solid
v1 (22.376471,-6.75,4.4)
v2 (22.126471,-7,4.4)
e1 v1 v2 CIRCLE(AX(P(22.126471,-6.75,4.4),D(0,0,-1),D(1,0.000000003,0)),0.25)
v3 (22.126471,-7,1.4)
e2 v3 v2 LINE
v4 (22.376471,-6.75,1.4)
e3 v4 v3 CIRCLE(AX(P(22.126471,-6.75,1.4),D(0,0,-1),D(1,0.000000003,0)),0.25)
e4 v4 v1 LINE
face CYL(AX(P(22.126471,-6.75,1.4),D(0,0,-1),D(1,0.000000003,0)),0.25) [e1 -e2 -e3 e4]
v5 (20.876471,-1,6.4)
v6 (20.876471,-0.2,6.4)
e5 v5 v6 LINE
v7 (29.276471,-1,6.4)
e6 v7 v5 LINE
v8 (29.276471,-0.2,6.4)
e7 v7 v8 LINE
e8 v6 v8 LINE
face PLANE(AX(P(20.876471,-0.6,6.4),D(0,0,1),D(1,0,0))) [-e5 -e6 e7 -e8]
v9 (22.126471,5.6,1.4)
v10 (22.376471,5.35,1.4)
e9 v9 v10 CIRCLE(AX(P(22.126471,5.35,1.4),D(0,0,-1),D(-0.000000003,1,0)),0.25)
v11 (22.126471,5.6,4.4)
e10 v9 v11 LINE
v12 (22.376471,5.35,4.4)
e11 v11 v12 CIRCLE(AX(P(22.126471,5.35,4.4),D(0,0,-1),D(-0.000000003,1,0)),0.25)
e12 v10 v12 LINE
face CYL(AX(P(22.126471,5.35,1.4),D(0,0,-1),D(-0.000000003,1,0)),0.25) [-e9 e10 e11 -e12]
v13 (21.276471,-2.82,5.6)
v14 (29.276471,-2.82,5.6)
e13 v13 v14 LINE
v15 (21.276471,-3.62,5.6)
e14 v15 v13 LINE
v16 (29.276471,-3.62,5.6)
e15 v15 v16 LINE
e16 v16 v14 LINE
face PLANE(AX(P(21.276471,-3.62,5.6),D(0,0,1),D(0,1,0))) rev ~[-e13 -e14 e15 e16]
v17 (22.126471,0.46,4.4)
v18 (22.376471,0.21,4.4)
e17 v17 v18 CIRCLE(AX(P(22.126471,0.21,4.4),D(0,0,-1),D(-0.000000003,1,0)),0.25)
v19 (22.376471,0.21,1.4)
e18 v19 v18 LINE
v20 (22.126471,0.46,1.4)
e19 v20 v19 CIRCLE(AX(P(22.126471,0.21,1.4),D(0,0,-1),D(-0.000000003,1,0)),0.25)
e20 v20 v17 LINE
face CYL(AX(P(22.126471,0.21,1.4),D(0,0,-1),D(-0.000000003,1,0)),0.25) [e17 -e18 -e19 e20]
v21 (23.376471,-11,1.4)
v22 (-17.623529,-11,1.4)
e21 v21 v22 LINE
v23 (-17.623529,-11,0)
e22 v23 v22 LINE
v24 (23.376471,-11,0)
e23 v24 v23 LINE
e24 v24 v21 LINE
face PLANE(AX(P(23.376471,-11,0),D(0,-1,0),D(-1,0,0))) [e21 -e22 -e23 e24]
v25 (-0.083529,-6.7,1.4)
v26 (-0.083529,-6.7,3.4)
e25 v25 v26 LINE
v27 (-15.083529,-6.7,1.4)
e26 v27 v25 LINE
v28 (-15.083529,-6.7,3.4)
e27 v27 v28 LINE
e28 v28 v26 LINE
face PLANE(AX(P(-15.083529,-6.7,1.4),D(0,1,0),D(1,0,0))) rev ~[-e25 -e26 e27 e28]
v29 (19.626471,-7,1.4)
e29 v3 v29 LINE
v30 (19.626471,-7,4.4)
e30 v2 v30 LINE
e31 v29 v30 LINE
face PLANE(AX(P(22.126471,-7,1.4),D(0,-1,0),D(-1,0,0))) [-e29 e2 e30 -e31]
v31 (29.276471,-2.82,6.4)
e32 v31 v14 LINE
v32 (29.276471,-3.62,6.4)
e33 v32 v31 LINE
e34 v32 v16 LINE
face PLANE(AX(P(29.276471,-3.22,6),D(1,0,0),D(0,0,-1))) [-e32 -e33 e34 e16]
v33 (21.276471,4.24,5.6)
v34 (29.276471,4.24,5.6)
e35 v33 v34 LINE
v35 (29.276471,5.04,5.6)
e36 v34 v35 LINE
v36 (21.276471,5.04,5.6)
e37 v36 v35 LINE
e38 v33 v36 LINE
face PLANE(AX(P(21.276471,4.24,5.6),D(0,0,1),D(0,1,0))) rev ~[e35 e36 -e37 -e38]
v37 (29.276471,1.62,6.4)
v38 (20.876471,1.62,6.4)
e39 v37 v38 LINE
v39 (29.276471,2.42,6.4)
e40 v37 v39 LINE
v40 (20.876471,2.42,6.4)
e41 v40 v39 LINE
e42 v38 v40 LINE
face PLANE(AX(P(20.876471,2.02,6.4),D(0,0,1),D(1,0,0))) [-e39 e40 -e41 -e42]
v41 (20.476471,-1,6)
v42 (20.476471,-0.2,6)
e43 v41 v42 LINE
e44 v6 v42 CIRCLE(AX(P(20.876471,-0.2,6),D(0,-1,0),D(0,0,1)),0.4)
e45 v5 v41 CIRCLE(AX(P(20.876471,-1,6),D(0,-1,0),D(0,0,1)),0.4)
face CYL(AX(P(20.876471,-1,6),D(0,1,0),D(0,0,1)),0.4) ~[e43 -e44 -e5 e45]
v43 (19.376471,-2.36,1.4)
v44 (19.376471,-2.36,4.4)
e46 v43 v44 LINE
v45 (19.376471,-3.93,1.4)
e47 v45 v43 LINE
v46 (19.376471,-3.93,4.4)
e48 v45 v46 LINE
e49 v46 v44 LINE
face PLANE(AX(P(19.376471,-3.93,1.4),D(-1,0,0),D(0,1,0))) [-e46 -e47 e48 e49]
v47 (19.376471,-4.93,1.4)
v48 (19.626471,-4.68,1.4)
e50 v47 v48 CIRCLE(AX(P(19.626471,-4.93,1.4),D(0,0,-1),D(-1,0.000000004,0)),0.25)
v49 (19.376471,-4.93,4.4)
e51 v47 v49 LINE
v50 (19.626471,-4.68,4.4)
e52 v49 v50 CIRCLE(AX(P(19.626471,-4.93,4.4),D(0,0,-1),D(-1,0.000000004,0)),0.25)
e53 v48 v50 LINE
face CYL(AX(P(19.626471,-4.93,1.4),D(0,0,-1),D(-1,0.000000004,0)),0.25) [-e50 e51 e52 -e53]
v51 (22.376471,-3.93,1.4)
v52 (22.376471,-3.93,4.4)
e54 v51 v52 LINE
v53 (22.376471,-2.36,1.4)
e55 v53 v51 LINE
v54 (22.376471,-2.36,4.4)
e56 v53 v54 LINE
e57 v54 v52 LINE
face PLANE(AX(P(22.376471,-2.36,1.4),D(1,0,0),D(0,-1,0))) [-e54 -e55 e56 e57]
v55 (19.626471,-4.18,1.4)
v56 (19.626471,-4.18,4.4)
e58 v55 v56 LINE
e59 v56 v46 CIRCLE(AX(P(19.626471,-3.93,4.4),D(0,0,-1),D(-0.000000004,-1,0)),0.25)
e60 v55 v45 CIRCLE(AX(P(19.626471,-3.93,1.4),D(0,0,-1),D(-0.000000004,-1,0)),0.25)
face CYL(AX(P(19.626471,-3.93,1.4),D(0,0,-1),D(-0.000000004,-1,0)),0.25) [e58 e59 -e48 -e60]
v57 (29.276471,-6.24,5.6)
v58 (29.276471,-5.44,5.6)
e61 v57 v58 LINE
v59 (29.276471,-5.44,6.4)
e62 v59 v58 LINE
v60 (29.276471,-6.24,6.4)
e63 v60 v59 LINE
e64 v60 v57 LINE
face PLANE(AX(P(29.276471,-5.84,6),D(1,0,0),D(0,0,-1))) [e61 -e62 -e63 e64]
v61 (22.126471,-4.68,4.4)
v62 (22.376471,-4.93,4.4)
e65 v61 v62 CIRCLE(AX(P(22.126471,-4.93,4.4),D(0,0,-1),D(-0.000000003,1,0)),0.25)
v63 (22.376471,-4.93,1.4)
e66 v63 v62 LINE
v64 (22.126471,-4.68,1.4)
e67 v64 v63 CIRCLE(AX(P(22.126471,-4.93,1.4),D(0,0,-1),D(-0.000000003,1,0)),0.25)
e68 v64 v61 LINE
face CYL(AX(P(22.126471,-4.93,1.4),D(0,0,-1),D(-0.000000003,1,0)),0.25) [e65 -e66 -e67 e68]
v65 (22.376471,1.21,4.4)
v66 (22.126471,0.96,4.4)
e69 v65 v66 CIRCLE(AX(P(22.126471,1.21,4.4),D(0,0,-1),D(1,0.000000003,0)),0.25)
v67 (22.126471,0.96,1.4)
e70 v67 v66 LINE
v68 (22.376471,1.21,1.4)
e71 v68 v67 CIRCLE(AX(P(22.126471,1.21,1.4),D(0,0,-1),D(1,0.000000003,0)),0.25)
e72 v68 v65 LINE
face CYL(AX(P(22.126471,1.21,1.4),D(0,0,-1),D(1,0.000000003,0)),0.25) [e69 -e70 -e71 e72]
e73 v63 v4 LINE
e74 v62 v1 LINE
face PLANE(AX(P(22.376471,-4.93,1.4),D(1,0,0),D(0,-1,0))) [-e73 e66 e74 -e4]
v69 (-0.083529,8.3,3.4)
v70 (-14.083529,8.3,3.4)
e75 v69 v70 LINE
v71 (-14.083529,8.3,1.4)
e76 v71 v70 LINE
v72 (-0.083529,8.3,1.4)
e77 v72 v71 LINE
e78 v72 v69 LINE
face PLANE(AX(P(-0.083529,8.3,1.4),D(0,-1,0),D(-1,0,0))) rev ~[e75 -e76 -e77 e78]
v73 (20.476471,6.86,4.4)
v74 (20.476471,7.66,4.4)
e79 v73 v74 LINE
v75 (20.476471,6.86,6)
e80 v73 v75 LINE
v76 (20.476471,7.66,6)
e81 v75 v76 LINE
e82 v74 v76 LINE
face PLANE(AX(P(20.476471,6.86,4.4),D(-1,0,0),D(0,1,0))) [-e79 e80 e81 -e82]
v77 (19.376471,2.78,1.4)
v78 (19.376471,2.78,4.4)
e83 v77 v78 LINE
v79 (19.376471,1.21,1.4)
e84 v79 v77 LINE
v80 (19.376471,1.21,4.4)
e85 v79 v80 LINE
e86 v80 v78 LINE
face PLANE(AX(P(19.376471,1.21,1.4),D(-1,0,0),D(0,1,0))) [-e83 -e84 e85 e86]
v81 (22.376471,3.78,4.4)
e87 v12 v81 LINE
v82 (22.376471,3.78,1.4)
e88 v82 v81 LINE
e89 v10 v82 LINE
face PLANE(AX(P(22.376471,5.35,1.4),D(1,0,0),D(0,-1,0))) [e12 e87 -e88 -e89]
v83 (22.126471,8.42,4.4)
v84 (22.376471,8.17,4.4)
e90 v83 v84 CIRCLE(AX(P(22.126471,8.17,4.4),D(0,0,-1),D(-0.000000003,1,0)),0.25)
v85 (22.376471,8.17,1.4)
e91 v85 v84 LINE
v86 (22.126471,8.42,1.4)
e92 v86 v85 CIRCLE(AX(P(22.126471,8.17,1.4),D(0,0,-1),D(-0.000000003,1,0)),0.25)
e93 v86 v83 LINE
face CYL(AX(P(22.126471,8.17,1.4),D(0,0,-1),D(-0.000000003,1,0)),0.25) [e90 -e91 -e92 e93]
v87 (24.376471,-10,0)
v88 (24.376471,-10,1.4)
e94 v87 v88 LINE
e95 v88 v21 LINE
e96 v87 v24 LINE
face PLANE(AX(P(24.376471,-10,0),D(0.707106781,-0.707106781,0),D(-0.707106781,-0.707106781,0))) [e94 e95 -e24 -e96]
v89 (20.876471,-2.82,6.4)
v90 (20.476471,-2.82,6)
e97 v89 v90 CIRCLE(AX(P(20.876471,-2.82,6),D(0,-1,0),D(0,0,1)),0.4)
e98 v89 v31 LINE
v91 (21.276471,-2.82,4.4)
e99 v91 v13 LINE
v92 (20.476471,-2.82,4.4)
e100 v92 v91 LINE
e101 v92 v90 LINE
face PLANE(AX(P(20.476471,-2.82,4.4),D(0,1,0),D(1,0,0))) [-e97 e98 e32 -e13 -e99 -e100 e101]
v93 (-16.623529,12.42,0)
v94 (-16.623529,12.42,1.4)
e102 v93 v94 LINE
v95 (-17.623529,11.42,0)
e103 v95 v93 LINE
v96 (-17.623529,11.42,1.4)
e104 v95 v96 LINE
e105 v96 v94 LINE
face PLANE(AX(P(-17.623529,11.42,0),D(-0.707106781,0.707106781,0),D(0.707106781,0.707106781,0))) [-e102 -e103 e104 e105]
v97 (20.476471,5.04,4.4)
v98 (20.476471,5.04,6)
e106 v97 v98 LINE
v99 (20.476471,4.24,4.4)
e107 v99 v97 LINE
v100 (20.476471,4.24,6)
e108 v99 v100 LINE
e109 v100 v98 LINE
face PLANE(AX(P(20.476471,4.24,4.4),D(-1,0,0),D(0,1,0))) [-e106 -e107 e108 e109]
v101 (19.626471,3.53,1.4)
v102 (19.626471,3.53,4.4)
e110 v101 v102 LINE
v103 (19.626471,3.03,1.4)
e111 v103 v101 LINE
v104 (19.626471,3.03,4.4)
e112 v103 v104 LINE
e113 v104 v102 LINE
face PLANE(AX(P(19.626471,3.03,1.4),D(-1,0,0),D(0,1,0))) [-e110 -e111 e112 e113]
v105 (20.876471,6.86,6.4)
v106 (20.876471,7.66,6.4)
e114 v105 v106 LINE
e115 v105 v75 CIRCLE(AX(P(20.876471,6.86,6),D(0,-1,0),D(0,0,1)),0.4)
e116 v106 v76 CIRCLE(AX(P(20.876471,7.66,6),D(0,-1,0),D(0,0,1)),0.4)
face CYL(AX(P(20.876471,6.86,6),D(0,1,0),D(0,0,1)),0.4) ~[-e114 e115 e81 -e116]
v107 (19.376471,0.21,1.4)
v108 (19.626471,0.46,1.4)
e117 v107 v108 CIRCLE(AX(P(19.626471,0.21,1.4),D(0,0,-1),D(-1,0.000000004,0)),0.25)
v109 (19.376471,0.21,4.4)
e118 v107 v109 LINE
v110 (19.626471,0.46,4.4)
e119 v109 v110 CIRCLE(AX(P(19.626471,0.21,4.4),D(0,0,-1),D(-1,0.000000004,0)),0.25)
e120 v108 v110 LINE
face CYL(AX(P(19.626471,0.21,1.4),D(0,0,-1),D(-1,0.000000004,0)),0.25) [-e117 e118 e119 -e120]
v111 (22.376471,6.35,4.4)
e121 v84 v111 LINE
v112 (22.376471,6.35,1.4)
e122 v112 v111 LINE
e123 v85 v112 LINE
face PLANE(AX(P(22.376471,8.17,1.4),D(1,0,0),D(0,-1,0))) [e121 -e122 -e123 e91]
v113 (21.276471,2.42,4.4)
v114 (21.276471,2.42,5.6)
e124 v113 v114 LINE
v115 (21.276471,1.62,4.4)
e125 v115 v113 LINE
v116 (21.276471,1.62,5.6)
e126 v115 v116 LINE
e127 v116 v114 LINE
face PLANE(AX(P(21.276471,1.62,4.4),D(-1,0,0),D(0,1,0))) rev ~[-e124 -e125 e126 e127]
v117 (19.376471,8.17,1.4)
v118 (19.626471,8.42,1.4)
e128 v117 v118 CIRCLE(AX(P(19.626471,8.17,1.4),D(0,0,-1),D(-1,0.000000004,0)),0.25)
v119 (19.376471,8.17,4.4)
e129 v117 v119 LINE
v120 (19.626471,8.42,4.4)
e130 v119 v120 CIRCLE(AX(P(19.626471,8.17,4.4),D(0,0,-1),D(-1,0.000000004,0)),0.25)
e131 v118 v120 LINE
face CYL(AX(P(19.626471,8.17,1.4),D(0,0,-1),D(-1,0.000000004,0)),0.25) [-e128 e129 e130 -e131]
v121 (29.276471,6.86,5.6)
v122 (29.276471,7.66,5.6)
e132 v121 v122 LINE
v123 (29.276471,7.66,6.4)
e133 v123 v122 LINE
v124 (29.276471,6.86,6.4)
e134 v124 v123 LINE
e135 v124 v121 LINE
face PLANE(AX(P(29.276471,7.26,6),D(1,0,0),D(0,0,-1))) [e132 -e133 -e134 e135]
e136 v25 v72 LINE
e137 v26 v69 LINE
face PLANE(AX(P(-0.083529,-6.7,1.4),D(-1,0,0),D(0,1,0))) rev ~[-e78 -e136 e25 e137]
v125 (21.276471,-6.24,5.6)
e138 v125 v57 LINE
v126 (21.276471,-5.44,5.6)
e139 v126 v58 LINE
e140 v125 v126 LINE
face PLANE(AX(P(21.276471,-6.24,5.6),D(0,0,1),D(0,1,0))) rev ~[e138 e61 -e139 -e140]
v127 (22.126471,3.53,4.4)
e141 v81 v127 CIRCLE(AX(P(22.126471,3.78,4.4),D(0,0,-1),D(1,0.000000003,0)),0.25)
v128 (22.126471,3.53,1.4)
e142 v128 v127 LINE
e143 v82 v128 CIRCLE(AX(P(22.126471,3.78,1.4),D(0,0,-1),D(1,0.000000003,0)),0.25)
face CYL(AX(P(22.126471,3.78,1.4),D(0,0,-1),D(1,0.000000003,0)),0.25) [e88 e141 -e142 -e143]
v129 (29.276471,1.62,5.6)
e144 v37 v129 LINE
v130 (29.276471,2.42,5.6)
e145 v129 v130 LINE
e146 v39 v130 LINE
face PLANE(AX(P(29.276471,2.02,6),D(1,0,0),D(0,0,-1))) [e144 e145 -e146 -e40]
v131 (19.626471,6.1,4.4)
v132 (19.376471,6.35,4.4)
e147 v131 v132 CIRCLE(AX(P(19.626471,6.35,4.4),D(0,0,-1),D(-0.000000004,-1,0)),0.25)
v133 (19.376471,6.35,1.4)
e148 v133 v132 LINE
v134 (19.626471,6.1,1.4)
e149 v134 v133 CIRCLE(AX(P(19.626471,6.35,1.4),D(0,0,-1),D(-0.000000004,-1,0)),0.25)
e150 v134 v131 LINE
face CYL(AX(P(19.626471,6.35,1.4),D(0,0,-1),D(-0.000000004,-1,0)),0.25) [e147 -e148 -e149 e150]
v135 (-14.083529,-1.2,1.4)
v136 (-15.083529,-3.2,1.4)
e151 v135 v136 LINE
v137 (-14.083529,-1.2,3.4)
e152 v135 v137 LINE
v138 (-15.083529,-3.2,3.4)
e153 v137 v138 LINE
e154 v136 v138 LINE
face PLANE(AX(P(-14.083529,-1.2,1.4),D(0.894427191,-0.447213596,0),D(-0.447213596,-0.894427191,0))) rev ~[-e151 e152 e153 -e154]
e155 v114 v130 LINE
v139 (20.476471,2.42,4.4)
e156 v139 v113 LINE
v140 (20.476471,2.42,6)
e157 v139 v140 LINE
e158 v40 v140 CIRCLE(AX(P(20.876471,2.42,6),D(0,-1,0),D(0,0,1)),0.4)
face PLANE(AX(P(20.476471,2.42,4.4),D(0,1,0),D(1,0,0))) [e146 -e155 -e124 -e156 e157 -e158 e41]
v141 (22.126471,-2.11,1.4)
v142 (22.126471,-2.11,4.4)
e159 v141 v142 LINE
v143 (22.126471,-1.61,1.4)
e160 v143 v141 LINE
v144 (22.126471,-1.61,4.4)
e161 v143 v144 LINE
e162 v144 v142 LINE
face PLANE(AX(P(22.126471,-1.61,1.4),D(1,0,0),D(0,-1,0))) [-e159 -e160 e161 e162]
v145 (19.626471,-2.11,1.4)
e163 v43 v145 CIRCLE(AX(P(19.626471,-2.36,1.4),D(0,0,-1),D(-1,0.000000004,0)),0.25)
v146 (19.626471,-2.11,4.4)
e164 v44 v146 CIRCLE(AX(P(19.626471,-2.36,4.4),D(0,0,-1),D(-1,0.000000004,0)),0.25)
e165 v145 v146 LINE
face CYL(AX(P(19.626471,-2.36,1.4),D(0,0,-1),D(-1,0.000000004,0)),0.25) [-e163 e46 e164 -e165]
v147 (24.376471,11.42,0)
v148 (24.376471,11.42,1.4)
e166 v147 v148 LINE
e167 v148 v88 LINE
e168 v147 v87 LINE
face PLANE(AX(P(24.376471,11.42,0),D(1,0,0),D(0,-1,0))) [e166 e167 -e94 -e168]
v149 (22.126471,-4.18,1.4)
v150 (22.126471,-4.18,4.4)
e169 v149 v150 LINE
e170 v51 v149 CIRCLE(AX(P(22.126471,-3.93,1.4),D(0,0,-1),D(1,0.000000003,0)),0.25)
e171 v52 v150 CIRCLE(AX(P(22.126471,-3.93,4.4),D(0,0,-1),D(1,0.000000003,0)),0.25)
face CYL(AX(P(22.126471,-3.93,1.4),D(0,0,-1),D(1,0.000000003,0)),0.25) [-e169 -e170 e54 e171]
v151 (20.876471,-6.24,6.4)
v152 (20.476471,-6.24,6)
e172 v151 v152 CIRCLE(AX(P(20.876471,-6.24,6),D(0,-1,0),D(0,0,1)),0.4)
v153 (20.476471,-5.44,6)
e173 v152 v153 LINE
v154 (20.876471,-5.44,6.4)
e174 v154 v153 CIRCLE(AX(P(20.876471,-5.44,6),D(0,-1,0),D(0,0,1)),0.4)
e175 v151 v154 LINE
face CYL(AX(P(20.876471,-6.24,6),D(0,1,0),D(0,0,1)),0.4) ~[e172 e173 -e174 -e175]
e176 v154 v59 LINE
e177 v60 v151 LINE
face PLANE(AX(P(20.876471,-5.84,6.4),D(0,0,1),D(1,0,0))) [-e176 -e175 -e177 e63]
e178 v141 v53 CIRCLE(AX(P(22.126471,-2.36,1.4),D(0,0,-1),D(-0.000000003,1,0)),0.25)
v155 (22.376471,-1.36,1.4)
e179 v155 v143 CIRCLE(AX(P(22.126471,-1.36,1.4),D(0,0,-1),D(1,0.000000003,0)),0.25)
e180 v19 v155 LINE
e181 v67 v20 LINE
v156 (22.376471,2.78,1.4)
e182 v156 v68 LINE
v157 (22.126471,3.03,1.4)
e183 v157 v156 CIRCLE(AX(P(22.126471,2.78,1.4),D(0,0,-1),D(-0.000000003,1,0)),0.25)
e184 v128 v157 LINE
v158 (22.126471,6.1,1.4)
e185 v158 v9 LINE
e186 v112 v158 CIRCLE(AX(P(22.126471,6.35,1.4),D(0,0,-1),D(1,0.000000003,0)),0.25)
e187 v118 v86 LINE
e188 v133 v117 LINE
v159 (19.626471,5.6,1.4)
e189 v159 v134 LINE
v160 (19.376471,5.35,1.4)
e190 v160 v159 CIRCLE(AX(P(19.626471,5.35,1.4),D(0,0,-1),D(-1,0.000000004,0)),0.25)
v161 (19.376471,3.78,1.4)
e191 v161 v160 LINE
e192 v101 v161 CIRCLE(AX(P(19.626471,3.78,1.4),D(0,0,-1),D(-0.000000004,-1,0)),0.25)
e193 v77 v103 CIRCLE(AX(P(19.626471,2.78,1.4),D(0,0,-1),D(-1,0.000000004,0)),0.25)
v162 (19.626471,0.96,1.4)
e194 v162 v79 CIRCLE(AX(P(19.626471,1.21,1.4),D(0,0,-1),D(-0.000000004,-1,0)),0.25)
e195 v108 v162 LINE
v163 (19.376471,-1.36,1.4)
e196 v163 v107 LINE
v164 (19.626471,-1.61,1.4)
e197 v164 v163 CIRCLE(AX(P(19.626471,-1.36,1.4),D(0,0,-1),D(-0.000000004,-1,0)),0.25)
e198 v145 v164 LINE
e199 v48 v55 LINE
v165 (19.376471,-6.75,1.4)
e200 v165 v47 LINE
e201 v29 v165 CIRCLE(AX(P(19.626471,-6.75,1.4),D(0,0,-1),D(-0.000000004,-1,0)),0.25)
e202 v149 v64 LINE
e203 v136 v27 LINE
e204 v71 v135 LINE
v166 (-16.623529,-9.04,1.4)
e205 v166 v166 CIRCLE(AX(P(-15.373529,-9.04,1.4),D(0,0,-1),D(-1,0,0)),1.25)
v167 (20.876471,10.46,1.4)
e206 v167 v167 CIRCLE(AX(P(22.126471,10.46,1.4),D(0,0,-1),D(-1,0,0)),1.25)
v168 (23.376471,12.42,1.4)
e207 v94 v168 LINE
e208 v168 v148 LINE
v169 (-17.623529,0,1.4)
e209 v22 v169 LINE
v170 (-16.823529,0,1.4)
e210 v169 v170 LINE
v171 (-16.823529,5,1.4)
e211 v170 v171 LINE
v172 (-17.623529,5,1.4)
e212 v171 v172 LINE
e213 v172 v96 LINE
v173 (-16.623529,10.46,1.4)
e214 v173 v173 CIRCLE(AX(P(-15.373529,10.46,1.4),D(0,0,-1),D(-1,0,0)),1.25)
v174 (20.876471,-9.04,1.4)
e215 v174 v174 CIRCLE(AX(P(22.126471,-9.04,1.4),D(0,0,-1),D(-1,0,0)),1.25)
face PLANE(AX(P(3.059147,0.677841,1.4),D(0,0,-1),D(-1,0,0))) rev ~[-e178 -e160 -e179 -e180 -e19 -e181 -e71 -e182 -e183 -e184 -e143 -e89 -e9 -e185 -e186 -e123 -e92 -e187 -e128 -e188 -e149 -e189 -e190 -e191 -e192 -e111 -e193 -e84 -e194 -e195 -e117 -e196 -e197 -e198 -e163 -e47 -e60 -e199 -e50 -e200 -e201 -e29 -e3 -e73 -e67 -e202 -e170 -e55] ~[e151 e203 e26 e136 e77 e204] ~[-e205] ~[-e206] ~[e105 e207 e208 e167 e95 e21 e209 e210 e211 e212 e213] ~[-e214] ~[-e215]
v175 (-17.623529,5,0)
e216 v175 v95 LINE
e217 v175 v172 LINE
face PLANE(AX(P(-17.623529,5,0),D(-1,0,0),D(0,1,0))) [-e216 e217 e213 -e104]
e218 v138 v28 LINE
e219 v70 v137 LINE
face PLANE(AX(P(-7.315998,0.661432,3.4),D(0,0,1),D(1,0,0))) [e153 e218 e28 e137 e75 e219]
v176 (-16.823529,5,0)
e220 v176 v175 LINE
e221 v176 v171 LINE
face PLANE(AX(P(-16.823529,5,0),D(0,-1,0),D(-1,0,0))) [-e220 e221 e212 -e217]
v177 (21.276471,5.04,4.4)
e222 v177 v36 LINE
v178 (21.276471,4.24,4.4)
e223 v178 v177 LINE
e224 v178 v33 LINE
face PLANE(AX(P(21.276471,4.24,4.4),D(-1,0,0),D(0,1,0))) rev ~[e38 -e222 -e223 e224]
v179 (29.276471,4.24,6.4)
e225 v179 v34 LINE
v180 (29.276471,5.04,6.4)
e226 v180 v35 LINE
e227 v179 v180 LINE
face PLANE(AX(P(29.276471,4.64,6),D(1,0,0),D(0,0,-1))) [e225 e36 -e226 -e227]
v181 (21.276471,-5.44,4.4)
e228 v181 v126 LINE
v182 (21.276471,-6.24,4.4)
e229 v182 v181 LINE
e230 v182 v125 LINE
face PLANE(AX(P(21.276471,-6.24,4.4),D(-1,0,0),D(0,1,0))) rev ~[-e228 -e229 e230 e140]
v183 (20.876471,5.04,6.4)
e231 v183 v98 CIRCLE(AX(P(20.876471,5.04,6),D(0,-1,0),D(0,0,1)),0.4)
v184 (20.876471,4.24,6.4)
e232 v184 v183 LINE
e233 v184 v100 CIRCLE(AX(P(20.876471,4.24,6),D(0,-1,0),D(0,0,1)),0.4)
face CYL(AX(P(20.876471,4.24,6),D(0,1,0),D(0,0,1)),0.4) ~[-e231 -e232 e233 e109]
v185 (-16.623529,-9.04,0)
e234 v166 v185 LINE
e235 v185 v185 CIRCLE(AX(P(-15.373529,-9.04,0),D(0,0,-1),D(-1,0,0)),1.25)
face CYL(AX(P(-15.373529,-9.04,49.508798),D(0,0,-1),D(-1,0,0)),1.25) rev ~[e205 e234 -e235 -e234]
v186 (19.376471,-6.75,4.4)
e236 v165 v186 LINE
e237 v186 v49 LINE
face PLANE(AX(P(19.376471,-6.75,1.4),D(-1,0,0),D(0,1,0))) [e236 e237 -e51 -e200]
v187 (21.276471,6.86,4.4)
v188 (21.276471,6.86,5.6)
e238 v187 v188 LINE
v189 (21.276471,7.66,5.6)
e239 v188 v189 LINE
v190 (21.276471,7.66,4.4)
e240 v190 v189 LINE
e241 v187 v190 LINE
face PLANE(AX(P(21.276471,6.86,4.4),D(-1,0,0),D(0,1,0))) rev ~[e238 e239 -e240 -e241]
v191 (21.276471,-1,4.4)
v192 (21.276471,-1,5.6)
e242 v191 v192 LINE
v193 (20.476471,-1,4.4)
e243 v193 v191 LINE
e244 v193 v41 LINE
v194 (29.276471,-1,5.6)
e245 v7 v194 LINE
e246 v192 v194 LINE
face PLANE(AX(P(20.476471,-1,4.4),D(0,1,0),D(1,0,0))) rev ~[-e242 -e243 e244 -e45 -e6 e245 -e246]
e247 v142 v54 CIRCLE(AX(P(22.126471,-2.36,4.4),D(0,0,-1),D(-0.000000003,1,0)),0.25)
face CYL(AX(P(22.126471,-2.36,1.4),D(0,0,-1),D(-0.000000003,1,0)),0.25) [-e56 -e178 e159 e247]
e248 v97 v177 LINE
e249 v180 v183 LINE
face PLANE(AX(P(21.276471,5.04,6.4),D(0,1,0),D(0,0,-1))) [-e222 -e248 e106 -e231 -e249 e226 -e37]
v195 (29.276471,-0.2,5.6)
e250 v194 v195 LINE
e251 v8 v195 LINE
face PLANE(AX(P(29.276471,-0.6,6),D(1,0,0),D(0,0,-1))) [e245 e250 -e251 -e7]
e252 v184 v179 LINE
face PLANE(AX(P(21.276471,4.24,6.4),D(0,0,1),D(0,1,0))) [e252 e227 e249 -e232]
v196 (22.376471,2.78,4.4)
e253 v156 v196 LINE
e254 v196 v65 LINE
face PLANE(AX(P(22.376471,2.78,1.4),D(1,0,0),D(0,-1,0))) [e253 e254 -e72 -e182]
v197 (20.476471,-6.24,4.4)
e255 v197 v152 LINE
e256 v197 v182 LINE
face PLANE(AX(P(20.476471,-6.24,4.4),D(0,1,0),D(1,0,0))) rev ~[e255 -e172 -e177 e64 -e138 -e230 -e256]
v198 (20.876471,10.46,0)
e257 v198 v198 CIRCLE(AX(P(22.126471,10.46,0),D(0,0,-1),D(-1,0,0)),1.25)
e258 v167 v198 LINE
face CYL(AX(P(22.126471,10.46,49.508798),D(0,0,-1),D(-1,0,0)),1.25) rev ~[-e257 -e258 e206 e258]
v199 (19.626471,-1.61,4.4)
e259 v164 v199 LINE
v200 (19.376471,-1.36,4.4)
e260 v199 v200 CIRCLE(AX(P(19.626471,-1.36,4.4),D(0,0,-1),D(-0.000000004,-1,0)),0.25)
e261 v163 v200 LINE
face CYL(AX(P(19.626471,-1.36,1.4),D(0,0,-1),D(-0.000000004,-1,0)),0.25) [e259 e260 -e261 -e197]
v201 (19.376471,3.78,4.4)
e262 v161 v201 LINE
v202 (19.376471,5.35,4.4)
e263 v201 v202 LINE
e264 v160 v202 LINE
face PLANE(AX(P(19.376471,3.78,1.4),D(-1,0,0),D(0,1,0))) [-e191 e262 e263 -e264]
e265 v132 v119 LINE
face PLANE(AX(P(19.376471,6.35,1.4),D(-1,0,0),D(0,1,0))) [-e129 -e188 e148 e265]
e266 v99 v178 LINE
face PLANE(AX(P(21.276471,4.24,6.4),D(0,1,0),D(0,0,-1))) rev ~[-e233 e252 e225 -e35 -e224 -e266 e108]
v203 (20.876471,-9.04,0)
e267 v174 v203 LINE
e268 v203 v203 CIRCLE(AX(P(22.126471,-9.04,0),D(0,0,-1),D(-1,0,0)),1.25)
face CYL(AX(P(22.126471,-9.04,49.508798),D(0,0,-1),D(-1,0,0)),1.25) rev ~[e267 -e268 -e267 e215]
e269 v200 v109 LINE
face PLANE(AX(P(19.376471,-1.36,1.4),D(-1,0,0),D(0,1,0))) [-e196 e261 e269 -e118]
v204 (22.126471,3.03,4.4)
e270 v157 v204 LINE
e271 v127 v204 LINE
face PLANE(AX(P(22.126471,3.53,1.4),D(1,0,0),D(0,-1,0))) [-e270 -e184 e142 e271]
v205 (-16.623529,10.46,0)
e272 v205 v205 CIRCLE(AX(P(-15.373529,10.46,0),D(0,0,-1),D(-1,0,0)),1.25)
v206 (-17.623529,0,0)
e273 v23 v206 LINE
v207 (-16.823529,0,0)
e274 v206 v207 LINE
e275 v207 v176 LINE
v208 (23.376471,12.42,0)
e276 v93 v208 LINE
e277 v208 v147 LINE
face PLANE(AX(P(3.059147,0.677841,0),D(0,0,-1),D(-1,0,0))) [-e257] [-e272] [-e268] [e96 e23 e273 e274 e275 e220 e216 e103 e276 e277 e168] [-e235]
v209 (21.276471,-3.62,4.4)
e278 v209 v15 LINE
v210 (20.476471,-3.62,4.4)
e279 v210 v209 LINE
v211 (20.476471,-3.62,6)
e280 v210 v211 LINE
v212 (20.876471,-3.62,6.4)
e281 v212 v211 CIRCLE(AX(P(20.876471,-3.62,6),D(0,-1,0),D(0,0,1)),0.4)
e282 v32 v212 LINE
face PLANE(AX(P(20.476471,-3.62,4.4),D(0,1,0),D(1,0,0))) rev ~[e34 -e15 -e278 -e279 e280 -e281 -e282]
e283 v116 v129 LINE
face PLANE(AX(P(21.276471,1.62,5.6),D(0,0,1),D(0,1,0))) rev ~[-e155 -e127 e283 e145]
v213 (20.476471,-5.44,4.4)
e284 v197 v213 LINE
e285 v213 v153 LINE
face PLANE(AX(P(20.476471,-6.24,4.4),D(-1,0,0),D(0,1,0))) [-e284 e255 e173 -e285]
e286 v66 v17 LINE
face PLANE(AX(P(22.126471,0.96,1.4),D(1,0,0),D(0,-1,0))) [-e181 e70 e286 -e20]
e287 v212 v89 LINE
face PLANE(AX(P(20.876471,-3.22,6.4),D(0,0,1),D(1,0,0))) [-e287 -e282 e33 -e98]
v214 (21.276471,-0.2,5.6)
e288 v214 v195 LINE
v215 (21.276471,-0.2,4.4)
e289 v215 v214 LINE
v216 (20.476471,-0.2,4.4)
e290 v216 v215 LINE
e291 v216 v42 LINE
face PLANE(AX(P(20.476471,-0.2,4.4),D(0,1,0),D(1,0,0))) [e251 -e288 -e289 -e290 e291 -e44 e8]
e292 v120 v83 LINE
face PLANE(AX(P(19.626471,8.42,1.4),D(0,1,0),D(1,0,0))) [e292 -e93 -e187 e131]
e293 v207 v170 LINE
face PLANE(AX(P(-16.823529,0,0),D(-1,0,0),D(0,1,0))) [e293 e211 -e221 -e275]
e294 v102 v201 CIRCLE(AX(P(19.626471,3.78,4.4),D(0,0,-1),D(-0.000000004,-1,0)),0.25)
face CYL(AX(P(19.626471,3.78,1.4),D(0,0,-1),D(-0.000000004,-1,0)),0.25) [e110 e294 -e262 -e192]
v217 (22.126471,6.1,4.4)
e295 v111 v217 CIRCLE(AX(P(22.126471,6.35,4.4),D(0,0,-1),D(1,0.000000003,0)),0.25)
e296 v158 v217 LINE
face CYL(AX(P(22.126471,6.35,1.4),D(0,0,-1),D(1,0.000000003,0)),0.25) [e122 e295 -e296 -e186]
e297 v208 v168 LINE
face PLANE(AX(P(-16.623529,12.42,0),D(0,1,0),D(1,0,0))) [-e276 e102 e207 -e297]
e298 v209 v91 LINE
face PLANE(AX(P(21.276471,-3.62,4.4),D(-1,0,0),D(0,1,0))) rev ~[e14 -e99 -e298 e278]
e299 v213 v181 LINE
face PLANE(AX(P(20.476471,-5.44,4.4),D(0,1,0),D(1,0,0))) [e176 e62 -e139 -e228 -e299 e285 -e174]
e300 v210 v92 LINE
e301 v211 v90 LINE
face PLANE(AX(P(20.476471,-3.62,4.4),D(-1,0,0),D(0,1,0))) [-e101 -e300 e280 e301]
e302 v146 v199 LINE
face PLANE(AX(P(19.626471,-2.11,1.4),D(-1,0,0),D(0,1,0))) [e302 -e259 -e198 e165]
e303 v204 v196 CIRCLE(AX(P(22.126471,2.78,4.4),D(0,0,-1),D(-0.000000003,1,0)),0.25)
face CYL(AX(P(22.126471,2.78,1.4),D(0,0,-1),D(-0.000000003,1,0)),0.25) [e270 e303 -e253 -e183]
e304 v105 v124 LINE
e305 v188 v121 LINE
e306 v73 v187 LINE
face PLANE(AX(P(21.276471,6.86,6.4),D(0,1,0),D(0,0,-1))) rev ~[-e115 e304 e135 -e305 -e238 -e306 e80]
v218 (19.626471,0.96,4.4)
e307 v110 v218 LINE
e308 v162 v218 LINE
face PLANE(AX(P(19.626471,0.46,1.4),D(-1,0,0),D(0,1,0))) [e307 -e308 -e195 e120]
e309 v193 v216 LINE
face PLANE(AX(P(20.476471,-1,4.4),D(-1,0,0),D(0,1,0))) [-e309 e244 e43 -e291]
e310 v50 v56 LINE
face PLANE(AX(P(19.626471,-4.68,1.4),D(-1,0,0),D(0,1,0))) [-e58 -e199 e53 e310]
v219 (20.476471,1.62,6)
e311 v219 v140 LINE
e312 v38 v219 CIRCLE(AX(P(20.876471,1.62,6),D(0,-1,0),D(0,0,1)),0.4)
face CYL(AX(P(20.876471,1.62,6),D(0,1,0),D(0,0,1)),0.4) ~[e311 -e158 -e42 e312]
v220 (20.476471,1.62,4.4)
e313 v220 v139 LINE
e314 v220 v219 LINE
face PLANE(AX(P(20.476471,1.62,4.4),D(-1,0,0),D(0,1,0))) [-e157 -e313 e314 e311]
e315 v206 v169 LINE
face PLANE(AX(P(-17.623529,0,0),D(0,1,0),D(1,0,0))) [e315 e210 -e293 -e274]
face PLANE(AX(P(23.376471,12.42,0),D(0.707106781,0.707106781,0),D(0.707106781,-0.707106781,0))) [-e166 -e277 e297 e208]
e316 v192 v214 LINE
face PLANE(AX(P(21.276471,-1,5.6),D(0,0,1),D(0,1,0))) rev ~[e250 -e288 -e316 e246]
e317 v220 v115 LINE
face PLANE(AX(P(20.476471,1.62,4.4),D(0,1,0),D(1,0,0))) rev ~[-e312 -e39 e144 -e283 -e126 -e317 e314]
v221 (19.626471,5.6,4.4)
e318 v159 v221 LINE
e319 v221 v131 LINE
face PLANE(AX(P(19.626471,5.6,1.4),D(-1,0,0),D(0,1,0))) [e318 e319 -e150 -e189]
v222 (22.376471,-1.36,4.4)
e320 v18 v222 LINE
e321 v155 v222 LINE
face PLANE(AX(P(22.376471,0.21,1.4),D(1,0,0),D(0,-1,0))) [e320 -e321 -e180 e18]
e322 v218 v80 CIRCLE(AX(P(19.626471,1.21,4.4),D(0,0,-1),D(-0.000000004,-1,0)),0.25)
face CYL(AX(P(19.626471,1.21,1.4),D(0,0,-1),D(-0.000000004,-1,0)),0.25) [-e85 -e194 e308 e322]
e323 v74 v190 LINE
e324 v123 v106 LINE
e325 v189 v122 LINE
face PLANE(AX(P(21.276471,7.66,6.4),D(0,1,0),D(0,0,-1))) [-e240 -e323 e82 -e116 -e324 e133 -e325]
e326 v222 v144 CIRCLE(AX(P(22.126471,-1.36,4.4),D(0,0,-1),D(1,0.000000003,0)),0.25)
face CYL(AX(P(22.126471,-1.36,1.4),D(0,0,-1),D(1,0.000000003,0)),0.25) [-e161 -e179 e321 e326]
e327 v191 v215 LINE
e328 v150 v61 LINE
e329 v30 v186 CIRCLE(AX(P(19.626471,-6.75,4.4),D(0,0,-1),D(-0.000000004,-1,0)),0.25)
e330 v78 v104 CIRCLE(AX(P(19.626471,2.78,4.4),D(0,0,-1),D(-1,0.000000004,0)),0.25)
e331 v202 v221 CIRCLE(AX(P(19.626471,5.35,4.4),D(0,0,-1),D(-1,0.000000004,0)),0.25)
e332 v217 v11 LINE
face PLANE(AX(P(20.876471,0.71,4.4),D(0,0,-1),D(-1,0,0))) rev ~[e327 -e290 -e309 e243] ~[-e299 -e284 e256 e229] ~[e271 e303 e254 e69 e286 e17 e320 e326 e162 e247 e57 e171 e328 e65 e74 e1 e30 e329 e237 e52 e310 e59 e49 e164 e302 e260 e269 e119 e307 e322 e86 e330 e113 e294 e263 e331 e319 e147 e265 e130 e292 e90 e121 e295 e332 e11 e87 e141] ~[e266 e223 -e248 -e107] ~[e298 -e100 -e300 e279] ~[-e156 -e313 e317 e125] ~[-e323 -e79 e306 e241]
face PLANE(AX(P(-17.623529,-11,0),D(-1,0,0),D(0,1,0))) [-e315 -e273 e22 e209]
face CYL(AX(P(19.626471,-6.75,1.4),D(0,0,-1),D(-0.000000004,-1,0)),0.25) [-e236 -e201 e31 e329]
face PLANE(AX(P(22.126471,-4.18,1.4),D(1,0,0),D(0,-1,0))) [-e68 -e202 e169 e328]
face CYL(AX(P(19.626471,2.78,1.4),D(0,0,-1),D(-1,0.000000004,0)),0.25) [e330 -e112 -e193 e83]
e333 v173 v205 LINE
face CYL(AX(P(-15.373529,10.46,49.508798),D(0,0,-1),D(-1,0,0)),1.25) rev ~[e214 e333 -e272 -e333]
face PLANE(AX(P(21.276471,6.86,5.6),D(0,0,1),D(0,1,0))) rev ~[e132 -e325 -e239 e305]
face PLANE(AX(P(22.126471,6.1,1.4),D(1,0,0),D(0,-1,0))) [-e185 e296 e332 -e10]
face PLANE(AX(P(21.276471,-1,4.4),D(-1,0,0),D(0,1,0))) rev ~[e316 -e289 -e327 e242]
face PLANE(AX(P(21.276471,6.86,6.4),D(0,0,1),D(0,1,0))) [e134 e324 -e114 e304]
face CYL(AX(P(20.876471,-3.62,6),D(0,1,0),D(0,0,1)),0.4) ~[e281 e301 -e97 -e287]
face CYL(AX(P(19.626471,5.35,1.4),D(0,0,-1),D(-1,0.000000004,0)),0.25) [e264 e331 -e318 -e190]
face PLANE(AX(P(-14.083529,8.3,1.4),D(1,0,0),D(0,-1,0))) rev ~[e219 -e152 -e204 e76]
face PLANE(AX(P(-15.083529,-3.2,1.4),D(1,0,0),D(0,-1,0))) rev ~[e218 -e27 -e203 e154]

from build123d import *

# Parameters (mm, degrees)
BOSS_EXTRUDE1_DEPTH        = 1.4
F_2_5_2_5_DIAMETER_SLOT1_D = 2.5
BOSS_EXTRUDE2_DEPTH        = 2
BOSS_EXTRUDE3_DEPTH        = 3
SKETCH8_W                  = 0.8
SKETCH8_H                  = 0.8
BOSS_EXTRUDE4_DEPTH        = 2
SKETCH9_W                  = 0.8
SKETCH9_H                  = 0.8
BOSS_EXTRUDE5_DEPTH        = 8
LPATTERN1_COUNT            = 6
LPATTERN1_PITCH            = 2.62
FILLET1_R                  = 0.4


with BuildPart() as part:
    # Sketch1 → Boss-Extrude1 (new body)
    with BuildSketch(Plane.XY):
        Polygon((-17.623529412, 11.42), (-16.623529412, 12.42), (23.376470588, 12.42), (24.376470588, 11.42), (24.376470588, -10), (23.376470588, -11), (-17.623529412, -11), (-17.623529412, 0), (-16.823529412, 0), (-16.823529412, 5), (-17.623529412, 5), align=None)
    extrude(amount=BOSS_EXTRUDE1_DEPTH)

    # Ø2.5 (2.5) Diameter Slot1 (through all)
    with Locations(Plane.XY.offset(1.4)):
        with Locations((-15.373529412, -9.04), (-15.373529412, 10.46), (22.126470588, -9.04), (22.126470588, 10.46)):
            Hole(F_2_5_2_5_DIAMETER_SLOT1_D / 2)

    # Sketch6 → Boss-Extrude2 (add)
    with BuildSketch(Plane.XY.offset(1.4)):
        Polygon((-15.083529412, -6.7), (-0.083529412, -6.7), (-0.083529412, 8.3), (-14.083529412, 8.3), (-14.083529412, -1.2), (-15.083529412, -3.2), align=None)
    extrude(amount=BOSS_EXTRUDE2_DEPTH)

    # Sketch7 → Boss-Extrude3 (add)
    with BuildSketch(Plane.XY.offset(1.4)):
        with BuildLine():
            Line((22.126470588, 6.1), (22.126470588, 5.6))
            ThreePointArc((22.126470588, 5.6), (22.303247284, 5.526776695), (22.376470588, 5.35))
            Line((22.376470588, 5.35), (22.376470588, 3.78))
            ThreePointArc((22.376470588, 3.78), (22.303247284, 3.603223305), (22.126470588, 3.53))
            Line((22.126470588, 3.53), (22.126470588, 3.03))
            ThreePointArc((22.126470588, 3.03), (22.303247284, 2.956776695), (22.376470588, 2.78))
            Line((22.376470588, 2.78), (22.376470588, 1.21))
            ThreePointArc((22.376470588, 1.21), (22.303247284, 1.033223305), (22.126470588, 0.96))
            Line((22.126470588, 0.96), (22.126470588, 0.46))
            ThreePointArc((22.126470588, 0.46), (22.303247284, 0.386776695), (22.376470588, 0.21))
            Line((22.376470588, 0.21), (22.376470588, -1.36))
            ThreePointArc((22.376470588, -1.36), (22.303247284, -1.536776695), (22.126470588, -1.61))
            Line((22.126470588, -1.61), (22.126470588, -2.11))
            ThreePointArc((22.126470588, -2.11), (22.303247284, -2.183223305), (22.376470588, -2.36))
            Line((22.376470588, -2.36), (22.376470588, -3.93))
            ThreePointArc((22.376470588, -3.93), (22.303247284, -4.106776695), (22.126470588, -4.18))
            Line((22.126470588, -4.18), (22.126470588, -4.68))
            ThreePointArc((22.126470588, -4.68), (22.303247284, -4.753223305), (22.376470588, -4.93))
            Line((22.376470588, -4.93), (22.376470588, -6.75))
            ThreePointArc((22.376470588, -6.75), (22.303247284, -6.926776695), (22.126470588, -7))
            Line((22.126470588, -7), (19.626470588, -7))
            ThreePointArc((19.626470588, -7), (19.449693893, -6.926776695), (19.376470588, -6.75))
            Line((19.376470588, -6.75), (19.376470588, -4.93))
            ThreePointArc((19.376470588, -4.93), (19.449693893, -4.753223305), (19.626470588, -4.68))
            Line((19.626470588, -4.68), (19.626470588, -4.18))
            ThreePointArc((19.626470588, -4.18), (19.449693893, -4.106776695), (19.376470588, -3.93))
            Line((19.376470588, -3.93), (19.376470588, -2.36))
            ThreePointArc((19.376470588, -2.36), (19.449693893, -2.183223305), (19.626470588, -2.11))
            Line((19.626470588, -2.11), (19.626470588, -1.61))
            ThreePointArc((19.626470588, -1.61), (19.449693893, -1.536776695), (19.376470588, -1.36))
            Line((19.376470588, -1.36), (19.376470588, 0.21))
            ThreePointArc((19.376470588, 0.21), (19.449693893, 0.386776695), (19.626470588, 0.46))
            Line((19.626470588, 0.46), (19.626470588, 0.96))
            ThreePointArc((19.626470588, 0.96), (19.449693893, 1.033223305), (19.376470588, 1.21))
            Line((19.376470588, 1.21), (19.376470588, 2.78))
            ThreePointArc((19.376470588, 2.78), (19.449693893, 2.956776695), (19.626470588, 3.03))
            Line((19.626470588, 3.03), (19.626470588, 3.53))
            ThreePointArc((19.626470588, 3.53), (19.449693893, 3.603223305), (19.376470588, 3.78))
            Line((19.376470588, 3.78), (19.376470588, 5.35))
            ThreePointArc((19.376470588, 5.35), (19.449693893, 5.526776695), (19.626470588, 5.6))
            Line((19.626470588, 5.6), (19.626470588, 6.1))
            ThreePointArc((19.626470588, 6.1), (19.449693893, 6.173223305), (19.376470588, 6.35))
            Line((19.376470588, 6.35), (19.376470588, 8.17))
            ThreePointArc((19.376470588, 8.17), (19.449693893, 8.346776695), (19.626470588, 8.42))
            Line((19.626470588, 8.42), (22.126470588, 8.42))
            ThreePointArc((22.126470588, 8.42), (22.303247284, 8.346776695), (22.376470588, 8.17))
            Line((22.376470588, 8.17), (22.376470588, 6.35))
            ThreePointArc((22.376470588, 6.35), (22.303247284, 6.173223305), (22.126470588, 6.1))
        make_face()
    extrude(amount=BOSS_EXTRUDE3_DEPTH)

    # Sketch8 → Boss-Extrude4 (add)
    with BuildSketch(Plane.XY.offset(4.4)):
        with Locations((20.876470588, -5.84)):
            Rectangle(SKETCH8_W, SKETCH8_H)
        with Locations((20.876470588, -3.22)):
            Rectangle(SKETCH8_W, SKETCH8_H)
        with Locations((20.876470588, -0.6)):
            Rectangle(SKETCH8_W, SKETCH8_H)
        with Locations((20.876470588, 2.02)):
            Rectangle(SKETCH8_W, SKETCH8_H)
        with Locations((20.876470588, 4.64)):
            Rectangle(SKETCH8_W, SKETCH8_H)
        with Locations((20.876470588, 7.26)):
            Rectangle(SKETCH8_W, SKETCH8_H)
    extrude(amount=BOSS_EXTRUDE4_DEPTH)

    # Sketch9 → Boss-Extrude5 (add)
    with BuildSketch(Plane(origin=(21.276470588, 0, 0), x_dir=(0, 0, -1), z_dir=(1, 0, 0))):
        with Locations((-6, 7.26)):
            Rectangle(SKETCH9_W, SKETCH9_H)
    boss_extrude5 = extrude(amount=BOSS_EXTRUDE5_DEPTH)

    # LPattern1: Boss-Extrude5 ×6
    with Locations(*[(0, -i * LPATTERN1_PITCH, 0) for i in range(1, LPATTERN1_COUNT)]):
        add(boss_extrude5)

    # Fillet1
    fillet1_edges = [part.edges().sort_by_distance(p)[0] for p in [
        (20.476470588, -5.84, 6.4),
        (20.476470588, -3.22, 6.4),
        (20.476470588, -0.6, 6.4),
        (20.476470588, 2.02, 6.4),
        (20.476470588, 4.64, 6.4),
        (20.476470588, 7.26, 6.4),
    ]]
    fillet(fillet1_edges, radius=FILLET1_R)


solid = part.part
